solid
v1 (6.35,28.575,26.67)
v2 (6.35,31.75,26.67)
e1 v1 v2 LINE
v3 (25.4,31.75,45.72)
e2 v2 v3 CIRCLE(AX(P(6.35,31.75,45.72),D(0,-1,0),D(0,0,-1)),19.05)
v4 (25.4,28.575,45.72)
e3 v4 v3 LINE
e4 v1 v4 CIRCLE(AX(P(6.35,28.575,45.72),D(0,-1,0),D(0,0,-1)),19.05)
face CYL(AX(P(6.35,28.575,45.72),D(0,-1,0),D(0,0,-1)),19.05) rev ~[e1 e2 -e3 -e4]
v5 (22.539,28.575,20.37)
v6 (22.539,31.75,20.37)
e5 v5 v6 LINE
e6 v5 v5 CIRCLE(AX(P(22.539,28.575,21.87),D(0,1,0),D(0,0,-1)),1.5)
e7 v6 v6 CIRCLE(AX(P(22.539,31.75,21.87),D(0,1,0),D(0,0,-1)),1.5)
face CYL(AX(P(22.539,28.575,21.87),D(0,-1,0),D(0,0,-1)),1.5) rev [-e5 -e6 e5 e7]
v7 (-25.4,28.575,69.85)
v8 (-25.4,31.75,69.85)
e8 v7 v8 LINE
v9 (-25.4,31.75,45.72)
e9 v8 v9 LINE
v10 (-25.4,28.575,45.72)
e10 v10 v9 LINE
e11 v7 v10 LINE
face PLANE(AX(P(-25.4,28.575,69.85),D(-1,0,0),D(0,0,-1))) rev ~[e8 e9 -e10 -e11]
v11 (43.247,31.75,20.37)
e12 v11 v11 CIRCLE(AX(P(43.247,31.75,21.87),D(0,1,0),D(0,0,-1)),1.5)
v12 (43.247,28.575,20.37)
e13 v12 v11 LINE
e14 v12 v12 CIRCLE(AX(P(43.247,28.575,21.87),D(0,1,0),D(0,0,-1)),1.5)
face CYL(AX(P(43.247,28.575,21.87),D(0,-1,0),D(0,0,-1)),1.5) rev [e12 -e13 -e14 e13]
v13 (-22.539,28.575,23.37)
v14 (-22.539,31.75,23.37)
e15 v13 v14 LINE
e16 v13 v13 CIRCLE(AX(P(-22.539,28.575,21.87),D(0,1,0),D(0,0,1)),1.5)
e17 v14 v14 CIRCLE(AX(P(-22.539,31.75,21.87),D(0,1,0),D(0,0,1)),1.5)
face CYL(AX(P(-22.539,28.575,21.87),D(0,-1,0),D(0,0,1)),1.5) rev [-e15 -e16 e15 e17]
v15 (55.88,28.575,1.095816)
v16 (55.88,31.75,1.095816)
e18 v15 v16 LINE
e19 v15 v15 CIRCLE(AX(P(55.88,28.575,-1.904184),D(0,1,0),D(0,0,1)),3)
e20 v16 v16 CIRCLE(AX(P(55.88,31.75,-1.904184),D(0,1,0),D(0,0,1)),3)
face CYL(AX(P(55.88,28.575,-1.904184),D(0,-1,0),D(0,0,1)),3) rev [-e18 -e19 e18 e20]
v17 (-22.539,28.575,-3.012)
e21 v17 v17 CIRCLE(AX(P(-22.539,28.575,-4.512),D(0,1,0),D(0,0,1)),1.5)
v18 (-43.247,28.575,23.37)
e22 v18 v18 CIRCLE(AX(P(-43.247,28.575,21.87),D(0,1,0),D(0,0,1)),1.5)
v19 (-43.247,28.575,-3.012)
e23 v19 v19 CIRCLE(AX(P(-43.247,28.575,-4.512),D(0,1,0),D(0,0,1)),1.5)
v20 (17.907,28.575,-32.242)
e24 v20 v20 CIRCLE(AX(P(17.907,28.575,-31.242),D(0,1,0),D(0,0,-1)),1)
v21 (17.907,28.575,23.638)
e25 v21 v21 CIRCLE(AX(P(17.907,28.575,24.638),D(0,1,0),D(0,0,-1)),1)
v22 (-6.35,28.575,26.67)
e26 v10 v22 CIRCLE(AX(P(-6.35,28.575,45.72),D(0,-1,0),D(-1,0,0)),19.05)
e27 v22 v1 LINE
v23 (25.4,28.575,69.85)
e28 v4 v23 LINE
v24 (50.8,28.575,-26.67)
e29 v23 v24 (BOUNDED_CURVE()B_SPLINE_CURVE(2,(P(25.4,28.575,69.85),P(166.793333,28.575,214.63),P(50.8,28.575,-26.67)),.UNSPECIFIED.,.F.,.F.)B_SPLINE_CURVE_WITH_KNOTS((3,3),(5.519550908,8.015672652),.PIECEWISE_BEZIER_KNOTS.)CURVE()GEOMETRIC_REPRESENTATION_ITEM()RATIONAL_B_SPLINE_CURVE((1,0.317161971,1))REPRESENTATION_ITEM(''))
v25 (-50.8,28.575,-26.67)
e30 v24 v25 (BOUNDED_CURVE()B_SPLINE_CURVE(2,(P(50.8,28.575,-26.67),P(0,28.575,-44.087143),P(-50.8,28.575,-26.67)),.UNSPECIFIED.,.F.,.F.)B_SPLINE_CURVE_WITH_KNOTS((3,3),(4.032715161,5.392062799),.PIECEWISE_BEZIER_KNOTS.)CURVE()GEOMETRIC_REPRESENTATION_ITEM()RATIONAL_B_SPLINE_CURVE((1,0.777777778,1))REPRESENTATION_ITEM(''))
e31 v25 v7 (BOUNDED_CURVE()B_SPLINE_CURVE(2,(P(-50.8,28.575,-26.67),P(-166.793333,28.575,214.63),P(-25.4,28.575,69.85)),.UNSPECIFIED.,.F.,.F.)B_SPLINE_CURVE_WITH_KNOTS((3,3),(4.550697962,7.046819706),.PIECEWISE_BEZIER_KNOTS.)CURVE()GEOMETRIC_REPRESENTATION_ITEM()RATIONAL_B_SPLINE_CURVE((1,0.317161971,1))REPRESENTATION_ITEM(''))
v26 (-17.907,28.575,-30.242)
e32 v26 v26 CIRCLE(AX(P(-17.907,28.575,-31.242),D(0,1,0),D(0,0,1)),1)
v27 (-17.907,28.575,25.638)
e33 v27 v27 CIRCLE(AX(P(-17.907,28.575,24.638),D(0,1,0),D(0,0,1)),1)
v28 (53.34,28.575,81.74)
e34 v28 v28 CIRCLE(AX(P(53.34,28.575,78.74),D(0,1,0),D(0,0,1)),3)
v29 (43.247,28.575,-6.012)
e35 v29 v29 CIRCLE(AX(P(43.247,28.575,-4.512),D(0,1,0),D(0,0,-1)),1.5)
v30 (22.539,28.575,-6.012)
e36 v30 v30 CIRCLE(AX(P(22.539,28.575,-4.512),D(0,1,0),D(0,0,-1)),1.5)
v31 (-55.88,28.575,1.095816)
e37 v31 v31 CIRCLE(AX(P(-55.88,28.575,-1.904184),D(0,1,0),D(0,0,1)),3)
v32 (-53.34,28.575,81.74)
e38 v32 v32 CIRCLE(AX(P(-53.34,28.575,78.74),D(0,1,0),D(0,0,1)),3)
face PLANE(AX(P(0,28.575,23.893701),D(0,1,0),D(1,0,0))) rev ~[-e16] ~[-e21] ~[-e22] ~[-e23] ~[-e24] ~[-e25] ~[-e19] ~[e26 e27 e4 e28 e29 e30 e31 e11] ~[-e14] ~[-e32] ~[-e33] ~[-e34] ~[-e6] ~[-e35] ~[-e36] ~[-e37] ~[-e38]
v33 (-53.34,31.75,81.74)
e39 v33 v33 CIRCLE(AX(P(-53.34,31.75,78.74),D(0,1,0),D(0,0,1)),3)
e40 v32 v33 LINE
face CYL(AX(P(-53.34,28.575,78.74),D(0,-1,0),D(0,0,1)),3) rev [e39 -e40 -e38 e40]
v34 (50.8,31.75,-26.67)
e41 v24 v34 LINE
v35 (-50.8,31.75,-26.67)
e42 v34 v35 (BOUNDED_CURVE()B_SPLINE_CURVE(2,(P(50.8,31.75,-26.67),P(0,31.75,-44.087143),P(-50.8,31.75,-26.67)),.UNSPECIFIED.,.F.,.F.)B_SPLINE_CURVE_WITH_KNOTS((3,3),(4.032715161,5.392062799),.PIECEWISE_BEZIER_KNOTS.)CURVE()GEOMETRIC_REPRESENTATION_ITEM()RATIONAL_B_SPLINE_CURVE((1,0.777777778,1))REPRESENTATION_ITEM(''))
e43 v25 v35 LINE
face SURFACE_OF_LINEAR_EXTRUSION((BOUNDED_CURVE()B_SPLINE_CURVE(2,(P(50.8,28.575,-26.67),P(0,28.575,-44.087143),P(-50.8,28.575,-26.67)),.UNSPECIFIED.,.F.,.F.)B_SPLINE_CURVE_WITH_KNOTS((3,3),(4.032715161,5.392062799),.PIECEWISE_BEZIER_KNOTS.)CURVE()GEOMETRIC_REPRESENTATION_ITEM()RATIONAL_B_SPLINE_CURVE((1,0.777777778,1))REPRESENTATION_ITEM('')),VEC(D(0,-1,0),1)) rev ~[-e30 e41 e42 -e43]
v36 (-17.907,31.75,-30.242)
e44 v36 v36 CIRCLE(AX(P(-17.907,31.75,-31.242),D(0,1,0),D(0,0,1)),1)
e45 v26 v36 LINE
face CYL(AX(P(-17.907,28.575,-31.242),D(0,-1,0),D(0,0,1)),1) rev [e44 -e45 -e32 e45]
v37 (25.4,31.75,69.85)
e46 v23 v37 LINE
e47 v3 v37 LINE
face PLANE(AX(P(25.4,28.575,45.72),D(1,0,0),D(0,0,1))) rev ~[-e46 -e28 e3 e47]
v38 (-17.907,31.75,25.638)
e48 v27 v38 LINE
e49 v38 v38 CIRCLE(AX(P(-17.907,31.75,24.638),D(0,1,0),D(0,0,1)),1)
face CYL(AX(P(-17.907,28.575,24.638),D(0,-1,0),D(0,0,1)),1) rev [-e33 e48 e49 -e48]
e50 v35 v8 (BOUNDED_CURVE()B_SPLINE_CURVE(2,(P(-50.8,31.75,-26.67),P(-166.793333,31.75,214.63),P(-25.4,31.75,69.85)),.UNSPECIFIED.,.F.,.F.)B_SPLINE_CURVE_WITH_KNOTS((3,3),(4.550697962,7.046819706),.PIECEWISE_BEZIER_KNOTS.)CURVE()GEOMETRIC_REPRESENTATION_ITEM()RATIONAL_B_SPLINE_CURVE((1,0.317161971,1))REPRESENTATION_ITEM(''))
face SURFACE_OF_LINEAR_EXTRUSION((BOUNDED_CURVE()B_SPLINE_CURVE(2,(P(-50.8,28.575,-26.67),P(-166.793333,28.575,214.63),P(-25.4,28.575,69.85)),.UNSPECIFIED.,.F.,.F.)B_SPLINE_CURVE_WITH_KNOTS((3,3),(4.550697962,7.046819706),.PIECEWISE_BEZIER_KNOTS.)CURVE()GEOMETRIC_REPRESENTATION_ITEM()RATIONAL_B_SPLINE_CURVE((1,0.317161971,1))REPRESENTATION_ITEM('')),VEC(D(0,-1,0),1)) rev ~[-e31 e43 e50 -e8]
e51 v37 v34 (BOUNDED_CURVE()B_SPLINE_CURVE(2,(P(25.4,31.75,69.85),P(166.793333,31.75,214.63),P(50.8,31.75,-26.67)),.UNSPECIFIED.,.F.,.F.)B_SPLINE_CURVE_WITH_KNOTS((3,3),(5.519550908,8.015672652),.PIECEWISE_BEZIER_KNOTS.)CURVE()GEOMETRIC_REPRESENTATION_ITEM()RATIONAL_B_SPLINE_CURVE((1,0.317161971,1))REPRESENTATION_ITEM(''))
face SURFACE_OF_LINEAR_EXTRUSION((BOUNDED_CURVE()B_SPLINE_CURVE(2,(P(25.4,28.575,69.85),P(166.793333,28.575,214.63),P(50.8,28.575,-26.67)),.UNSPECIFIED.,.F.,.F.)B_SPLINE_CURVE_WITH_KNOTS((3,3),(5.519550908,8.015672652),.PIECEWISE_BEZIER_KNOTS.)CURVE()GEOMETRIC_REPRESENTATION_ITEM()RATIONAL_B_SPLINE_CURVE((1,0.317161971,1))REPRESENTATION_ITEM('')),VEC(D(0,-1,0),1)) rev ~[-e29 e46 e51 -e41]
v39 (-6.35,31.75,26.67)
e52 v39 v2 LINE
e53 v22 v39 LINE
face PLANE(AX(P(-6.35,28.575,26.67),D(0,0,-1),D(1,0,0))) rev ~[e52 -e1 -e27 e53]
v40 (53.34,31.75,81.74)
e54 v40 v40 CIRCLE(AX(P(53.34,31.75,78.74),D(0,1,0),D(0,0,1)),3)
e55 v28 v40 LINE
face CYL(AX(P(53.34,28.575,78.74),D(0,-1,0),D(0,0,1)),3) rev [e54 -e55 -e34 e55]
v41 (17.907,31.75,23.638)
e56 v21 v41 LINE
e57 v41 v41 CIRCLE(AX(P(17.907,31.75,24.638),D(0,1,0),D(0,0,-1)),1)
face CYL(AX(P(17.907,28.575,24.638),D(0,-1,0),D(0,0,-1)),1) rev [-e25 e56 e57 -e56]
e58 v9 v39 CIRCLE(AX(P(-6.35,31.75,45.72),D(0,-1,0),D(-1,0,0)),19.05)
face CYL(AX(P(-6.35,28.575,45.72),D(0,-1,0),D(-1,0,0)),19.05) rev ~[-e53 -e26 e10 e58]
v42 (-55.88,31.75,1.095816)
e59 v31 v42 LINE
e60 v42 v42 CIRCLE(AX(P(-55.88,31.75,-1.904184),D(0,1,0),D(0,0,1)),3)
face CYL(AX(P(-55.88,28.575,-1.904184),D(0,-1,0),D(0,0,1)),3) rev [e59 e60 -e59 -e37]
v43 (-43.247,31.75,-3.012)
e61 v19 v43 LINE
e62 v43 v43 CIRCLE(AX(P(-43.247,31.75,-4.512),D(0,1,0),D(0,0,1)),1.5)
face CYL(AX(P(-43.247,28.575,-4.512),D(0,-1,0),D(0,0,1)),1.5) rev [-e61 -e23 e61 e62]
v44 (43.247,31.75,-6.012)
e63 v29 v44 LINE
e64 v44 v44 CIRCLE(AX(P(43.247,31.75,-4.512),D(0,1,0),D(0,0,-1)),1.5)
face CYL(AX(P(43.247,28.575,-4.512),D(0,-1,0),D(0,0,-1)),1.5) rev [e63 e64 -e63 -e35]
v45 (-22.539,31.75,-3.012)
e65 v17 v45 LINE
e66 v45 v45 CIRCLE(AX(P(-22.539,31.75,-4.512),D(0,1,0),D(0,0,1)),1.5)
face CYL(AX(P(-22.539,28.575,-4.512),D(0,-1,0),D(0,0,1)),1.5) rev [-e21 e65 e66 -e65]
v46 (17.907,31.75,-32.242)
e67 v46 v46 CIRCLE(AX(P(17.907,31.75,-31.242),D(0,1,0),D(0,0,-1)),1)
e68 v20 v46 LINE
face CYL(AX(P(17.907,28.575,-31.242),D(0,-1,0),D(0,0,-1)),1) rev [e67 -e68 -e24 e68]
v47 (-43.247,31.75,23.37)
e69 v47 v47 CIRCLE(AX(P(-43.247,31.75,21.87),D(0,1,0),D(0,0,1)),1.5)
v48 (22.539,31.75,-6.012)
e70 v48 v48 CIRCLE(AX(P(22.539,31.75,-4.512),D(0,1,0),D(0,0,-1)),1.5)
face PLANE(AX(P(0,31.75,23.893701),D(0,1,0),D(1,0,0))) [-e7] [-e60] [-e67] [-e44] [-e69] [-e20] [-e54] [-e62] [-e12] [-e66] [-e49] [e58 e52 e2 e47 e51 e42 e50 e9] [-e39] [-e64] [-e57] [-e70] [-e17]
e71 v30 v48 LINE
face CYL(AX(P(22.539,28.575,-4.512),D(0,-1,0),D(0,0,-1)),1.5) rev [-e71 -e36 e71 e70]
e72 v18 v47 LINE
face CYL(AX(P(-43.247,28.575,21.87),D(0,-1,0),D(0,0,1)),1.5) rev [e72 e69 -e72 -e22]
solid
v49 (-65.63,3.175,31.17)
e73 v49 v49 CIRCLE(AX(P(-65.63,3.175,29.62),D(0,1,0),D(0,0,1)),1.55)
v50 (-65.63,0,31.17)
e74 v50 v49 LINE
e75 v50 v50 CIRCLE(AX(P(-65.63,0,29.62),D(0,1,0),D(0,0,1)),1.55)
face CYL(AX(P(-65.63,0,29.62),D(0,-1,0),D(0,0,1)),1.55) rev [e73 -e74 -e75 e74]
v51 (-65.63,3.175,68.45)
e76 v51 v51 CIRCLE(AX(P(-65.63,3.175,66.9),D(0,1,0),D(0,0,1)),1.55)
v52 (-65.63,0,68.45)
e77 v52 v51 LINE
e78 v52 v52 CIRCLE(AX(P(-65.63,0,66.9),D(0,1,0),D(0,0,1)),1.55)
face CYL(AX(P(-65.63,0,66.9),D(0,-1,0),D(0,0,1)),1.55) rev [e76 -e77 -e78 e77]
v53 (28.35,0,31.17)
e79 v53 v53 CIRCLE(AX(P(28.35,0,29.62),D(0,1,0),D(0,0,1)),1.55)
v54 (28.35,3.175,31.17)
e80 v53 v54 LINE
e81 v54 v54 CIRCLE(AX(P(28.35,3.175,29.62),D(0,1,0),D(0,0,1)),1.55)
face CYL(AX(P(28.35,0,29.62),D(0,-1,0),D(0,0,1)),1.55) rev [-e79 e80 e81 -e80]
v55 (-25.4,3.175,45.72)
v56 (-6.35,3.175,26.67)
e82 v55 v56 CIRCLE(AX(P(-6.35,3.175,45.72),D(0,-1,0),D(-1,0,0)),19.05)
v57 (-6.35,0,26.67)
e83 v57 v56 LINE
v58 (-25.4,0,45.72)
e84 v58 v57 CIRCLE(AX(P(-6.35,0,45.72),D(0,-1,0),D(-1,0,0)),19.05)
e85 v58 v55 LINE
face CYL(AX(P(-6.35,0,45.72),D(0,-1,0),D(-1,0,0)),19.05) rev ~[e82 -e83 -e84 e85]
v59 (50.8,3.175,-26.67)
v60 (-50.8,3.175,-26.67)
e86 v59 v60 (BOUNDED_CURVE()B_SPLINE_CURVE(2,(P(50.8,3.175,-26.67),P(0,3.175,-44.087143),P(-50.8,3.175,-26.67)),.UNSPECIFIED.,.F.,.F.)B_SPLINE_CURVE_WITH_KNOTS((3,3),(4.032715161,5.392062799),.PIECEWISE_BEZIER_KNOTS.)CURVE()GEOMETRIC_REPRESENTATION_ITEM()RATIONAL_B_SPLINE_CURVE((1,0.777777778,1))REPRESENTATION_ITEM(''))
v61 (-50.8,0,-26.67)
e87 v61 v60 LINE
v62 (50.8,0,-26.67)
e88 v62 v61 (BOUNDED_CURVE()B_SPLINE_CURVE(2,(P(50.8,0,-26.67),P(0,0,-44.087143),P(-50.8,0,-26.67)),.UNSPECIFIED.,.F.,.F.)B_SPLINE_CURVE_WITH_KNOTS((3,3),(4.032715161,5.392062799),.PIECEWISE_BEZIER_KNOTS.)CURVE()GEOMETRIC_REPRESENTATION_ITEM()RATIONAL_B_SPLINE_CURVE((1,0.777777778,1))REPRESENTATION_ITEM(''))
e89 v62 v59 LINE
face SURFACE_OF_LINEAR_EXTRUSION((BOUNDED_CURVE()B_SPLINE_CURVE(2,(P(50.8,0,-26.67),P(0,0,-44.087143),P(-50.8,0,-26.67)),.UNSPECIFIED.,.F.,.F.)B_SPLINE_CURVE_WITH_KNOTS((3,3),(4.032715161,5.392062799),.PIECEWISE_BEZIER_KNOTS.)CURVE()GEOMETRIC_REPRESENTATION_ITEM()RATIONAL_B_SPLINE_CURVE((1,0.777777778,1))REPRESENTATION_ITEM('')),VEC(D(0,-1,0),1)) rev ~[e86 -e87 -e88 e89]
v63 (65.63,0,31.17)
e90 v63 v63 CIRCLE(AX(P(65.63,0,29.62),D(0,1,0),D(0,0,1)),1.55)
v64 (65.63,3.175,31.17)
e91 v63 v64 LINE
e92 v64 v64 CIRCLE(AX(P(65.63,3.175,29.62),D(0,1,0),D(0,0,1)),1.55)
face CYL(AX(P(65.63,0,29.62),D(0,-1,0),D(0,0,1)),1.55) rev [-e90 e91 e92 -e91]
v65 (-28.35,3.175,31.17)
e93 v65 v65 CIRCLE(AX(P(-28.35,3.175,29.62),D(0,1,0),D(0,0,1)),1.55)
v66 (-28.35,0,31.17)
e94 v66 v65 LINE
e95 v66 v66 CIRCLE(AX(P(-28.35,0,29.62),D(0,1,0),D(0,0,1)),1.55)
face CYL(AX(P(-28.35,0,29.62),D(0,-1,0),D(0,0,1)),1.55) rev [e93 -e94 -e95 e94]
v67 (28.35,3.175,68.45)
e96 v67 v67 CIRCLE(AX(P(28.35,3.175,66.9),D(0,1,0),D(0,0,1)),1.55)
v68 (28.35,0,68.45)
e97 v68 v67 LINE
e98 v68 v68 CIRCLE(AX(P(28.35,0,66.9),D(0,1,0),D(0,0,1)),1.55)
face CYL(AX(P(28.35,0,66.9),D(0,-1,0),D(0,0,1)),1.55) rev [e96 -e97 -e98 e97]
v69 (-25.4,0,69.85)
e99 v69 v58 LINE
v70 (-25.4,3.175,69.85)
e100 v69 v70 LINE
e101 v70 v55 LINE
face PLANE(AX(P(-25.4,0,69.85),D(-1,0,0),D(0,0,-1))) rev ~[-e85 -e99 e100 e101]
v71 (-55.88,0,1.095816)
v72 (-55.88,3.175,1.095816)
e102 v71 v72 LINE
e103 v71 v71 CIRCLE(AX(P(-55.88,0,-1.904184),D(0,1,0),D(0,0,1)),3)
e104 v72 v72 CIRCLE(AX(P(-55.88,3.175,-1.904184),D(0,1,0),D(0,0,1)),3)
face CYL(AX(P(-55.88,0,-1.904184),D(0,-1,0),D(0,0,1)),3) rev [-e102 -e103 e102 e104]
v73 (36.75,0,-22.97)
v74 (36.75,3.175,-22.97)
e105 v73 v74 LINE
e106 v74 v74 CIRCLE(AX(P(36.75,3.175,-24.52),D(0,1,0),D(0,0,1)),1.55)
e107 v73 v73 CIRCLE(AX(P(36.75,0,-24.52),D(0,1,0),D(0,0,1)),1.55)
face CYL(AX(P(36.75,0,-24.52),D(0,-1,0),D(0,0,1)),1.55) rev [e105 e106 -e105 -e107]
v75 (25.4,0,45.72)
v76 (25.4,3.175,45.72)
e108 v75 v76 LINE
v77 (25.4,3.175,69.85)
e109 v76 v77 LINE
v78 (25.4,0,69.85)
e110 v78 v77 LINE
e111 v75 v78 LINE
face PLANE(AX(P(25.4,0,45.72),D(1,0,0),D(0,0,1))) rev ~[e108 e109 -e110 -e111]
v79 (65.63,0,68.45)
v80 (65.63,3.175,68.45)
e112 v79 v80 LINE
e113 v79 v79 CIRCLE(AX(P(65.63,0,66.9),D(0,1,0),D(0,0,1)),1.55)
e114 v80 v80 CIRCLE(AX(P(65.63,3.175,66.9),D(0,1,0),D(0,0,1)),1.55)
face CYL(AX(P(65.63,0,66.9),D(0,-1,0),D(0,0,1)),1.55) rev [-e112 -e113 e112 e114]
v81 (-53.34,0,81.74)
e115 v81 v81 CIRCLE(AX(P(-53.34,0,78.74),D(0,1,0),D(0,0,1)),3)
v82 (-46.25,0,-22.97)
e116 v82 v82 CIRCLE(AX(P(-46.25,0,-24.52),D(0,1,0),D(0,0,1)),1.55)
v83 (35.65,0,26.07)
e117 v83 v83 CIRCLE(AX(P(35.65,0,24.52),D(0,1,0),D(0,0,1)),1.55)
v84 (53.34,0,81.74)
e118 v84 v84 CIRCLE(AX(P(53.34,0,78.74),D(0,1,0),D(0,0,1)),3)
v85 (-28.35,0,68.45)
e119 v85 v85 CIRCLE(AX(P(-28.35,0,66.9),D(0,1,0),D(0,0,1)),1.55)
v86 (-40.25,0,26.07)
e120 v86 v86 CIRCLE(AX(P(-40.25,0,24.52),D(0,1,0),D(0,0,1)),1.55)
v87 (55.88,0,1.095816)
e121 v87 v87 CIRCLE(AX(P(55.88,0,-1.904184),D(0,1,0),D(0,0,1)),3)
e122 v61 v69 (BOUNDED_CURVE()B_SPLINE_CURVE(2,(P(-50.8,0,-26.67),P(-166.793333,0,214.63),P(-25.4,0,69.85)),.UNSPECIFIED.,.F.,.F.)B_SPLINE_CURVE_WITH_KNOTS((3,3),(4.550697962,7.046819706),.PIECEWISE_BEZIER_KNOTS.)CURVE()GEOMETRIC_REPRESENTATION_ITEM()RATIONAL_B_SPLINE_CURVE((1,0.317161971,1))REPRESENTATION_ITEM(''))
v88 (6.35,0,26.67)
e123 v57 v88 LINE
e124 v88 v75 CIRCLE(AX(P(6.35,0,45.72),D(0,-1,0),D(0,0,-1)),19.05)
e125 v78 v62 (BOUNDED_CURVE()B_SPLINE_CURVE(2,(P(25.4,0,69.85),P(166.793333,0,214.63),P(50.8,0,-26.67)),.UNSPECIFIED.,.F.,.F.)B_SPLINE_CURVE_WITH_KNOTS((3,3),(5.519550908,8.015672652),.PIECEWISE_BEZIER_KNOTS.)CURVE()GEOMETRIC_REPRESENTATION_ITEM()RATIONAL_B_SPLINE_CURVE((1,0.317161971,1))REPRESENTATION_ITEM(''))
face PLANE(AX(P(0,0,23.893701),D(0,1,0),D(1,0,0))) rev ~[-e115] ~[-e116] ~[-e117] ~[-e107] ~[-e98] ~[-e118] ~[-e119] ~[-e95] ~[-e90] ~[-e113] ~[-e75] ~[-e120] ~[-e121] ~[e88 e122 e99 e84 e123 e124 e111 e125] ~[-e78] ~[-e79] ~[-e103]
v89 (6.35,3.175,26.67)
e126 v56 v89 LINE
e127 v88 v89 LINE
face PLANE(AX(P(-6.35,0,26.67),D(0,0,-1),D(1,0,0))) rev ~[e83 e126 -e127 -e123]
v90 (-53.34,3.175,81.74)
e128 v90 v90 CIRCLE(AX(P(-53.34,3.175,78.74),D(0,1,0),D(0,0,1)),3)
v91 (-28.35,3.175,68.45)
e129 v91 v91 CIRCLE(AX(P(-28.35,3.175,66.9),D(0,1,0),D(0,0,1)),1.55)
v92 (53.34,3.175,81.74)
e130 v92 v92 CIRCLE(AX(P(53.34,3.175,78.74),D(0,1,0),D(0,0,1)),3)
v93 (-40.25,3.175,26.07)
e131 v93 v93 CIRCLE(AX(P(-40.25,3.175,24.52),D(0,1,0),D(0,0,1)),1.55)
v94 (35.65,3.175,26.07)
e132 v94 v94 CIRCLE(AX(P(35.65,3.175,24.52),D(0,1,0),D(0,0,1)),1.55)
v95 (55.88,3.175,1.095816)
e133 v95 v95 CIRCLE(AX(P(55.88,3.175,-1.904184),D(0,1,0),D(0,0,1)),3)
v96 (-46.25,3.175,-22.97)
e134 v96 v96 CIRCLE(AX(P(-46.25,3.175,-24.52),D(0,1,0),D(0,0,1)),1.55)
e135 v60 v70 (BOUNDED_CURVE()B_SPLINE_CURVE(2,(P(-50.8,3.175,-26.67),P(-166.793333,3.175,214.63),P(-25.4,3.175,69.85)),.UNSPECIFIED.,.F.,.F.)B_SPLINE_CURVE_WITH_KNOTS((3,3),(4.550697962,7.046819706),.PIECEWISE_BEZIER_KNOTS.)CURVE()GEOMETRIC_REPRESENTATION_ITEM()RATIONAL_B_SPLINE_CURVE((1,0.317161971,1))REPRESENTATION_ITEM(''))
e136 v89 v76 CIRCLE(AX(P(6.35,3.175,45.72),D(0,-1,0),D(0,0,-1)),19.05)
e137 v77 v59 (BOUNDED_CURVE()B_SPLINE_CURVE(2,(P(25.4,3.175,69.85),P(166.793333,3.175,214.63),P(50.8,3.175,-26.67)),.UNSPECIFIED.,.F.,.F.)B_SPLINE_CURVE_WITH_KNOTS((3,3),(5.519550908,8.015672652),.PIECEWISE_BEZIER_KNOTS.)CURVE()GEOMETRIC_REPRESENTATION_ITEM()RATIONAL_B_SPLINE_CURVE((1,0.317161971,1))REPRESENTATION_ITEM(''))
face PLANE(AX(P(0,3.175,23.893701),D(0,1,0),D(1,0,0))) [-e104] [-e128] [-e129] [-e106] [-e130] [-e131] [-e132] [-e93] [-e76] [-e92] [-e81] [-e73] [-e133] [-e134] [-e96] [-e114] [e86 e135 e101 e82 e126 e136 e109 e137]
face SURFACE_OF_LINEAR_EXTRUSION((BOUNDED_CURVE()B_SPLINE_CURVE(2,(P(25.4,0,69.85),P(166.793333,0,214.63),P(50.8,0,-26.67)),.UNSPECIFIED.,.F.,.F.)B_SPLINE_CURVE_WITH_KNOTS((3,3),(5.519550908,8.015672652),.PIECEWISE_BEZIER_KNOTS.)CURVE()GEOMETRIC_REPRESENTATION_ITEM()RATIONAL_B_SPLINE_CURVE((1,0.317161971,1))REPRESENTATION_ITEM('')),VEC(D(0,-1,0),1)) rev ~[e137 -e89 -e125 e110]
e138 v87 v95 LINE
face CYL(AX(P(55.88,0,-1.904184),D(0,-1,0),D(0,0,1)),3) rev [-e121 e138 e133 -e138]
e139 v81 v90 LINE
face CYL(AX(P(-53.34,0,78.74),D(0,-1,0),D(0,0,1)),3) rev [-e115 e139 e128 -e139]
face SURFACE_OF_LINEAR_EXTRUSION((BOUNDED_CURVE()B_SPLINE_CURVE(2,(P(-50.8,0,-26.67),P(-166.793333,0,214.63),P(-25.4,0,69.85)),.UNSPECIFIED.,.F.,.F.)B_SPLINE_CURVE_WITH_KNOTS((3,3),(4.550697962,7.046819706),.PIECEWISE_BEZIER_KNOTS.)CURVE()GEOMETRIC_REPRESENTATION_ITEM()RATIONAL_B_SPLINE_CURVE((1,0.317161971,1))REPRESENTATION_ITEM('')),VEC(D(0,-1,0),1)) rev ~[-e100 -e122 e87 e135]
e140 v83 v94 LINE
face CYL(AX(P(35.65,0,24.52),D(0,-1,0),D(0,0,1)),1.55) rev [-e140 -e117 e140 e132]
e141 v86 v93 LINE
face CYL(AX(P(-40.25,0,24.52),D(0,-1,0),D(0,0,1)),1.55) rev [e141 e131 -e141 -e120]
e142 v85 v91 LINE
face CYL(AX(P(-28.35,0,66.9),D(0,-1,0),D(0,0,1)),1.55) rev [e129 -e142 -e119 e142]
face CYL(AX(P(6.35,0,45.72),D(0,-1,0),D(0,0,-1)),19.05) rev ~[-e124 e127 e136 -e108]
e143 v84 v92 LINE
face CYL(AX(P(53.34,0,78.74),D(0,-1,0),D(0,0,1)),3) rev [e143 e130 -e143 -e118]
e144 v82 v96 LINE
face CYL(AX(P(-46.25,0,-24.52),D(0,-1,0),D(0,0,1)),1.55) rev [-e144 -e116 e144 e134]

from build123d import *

# Parameters (mm, degrees)
SKETCH1_R           = 1.55
SKETCH1_R_2         = 3
BOSS_EXTRUDE1_DEPTH = 3.175
BOSS_EXTRUDE2_START = 25.4
SKETCH2_R           = 1
SKETCH2_R_2         = 1.5
SKETCH2_R_3         = 3
BOSS_EXTRUDE2_DEPTH = 3.175


with BuildPart() as part:
    # Sketch1 → Boss-Extrude1 (new body)
    with BuildSketch(Plane(origin=(0, 0, 0), x_dir=(1, 0, 0), z_dir=(0, 1, 0))):
        with BuildLine():
            Line((-25.4, -69.85), (-25.4, -45.72))
            ThreePointArc((-25.4, -45.72), (-19.820384182, -32.249615818), (-6.35, -26.67))
            Line((-6.35, -26.67), (6.35, -26.67))
            ThreePointArc((6.35, -26.67), (19.820384182, -32.249615818), (25.4, -45.72))
            Line((25.4, -45.72), (25.4, -69.85))
            add(Edge.make_bspline(
                [(25.4, -69.85), (166.793333333, -214.63), (50.8, 26.67)],
                knots=[5.519550908, 5.519550908, 5.519550908, 8.015672652, 8.015672652, 8.015672652], degree=2, weights=[1, 0.317161971, 1]))
            add(Edge.make_bspline(
                [(50.8, 26.67), (0, 44.087142857), (-50.8, 26.67)],
                knots=[4.032715161, 4.032715161, 4.032715161, 5.392062799, 5.392062799, 5.392062799], degree=2, weights=[1, 0.777777778, 1]))
            add(Edge.make_bspline(
                [(-50.8, 26.67), (-166.793333333, -214.63), (-25.4, -69.85)],
                knots=[4.550697962, 4.550697962, 4.550697962, 7.046819706, 7.046819706, 7.046819706], degree=2, weights=[1, 0.317161971, 1]))
        make_face()
        with Locations(Location((-65.63, -66.9, 0), (0, 0, 270))):
            Circle(SKETCH1_R, mode=Mode.SUBTRACT)
        with Locations(Location((-65.63, -29.62, 0), (0, 0, 270))):
            Circle(SKETCH1_R, mode=Mode.SUBTRACT)
        with Locations(Location((-28.35, -66.9, 0), (0, 0, 270))):
            Circle(SKETCH1_R, mode=Mode.SUBTRACT)
        with Locations(Location((-28.35, -29.62, 0), (0, 0, 270))):
            Circle(SKETCH1_R, mode=Mode.SUBTRACT)
        with Locations(Location((36.749999906, 24.519999982, 0), (0, 0, 270))):
            Circle(SKETCH1_R, mode=Mode.SUBTRACT)
        with Locations(Location((35.65, -24.519999982, 0), (0, 0, 270))):
            Circle(SKETCH1_R, mode=Mode.SUBTRACT)
        with Locations(Location((-46.249999956, 24.519999982, 0), (0, 0, 270))):
            Circle(SKETCH1_R, mode=Mode.SUBTRACT)
        with Locations(Location((-40.250000018, -24.519999982, 0), (0, 0, 270))):
            Circle(SKETCH1_R, mode=Mode.SUBTRACT)
        with Locations(Location((28.35, -66.9, 0), (0, 0, 270))):
            Circle(SKETCH1_R, mode=Mode.SUBTRACT)
        with Locations(Location((65.63, -66.9, 0), (0, 0, 270))):
            Circle(SKETCH1_R, mode=Mode.SUBTRACT)
        with Locations(Location((65.63, -29.62, 0), (0, 0, 270))):
            Circle(SKETCH1_R, mode=Mode.SUBTRACT)
        with Locations(Location((28.35, -29.62, 0), (0, 0, 270))):
            Circle(SKETCH1_R, mode=Mode.SUBTRACT)
        with Locations(Location((-55.88, 1.904184263, 0), (0, 0, 270))):
            Circle(SKETCH1_R_2, mode=Mode.SUBTRACT)
        with Locations(Location((-53.34, -78.74, 0), (0, 0, 270))):
            Circle(SKETCH1_R_2, mode=Mode.SUBTRACT)
        with Locations(Location((53.34, -78.74, 0), (0, 0, 270))):
            Circle(SKETCH1_R_2, mode=Mode.SUBTRACT)
        with Locations(Location((55.88, 1.904184263, 0), (0, 0, 270))):
            Circle(SKETCH1_R_2, mode=Mode.SUBTRACT)
    extrude(amount=BOSS_EXTRUDE1_DEPTH)


with BuildPart() as body_2:
    # Sketch2 → Boss-Extrude2 (new body)
    with BuildSketch(Plane(origin=(0, 3.175, 0), x_dir=(1, 0, 0), z_dir=(0, 1, 0)).offset(BOSS_EXTRUDE2_START)):
        with BuildLine():
            Line((25.4, -45.72), (25.4, -69.85))
            add(Edge.make_bspline(
                [(25.4, -69.85), (166.793333333, -214.63), (50.8, 26.67)],
                knots=[5.519550908, 5.519550908, 5.519550908, 8.015672652, 8.015672652, 8.015672652], degree=2, weights=[1, 0.317161971, 1]))
            add(Edge.make_bspline(
                [(50.8, 26.67), (0, 44.087142857), (-50.8, 26.67)],
                knots=[4.032715161, 4.032715161, 4.032715161, 5.392062799, 5.392062799, 5.392062799], degree=2, weights=[1, 0.777777778, 1]))
            add(Edge.make_bspline(
                [(-50.8, 26.67), (-166.793333333, -214.63), (-25.4, -69.85)],
                knots=[4.550697962, 4.550697962, 4.550697962, 7.046819706, 7.046819706, 7.046819706], degree=2, weights=[1, 0.317161971, 1]))
            Line((-25.4, -69.85), (-25.4, -45.72))
            ThreePointArc((-25.4, -45.72), (-19.820384182, -32.249615818), (-6.35, -26.67))
            Line((-6.35, -26.67), (6.35, -26.67))
            ThreePointArc((6.35, -26.67), (19.820384182, -32.249615818), (25.4, -45.72))
        make_face()
        with Locations(Location((-17.907, 31.242, 0), (0, 0, 270))):
            Circle(SKETCH2_R, mode=Mode.SUBTRACT)
        with Locations(Location((-17.907, -24.638, 0), (0, 0, 270))):
            Circle(SKETCH2_R, mode=Mode.SUBTRACT)
        with Locations(Location((17.907, 31.242, 0), (0, 0, 90))):
            Circle(SKETCH2_R, mode=Mode.SUBTRACT)
        with Locations(Location((17.907, -24.638, 0), (0, 0, 90))):
            Circle(SKETCH2_R, mode=Mode.SUBTRACT)
        with Locations(Location((-43.247, 4.512, 0), (0, 0, 270))):
            Circle(SKETCH2_R_2, mode=Mode.SUBTRACT)
        with Locations(Location((-22.539, 4.512, 0), (0, 0, 270))):
            Circle(SKETCH2_R_2, mode=Mode.SUBTRACT)
        with Locations(Location((-43.247, -21.87, 0), (0, 0, 270))):
            Circle(SKETCH2_R_2, mode=Mode.SUBTRACT)
        with Locations(Location((-22.539, -21.87, 0), (0, 0, 270))):
            Circle(SKETCH2_R_2, mode=Mode.SUBTRACT)
        with Locations(Location((43.247, -21.87, 0), (0, 0, 90))):
            Circle(SKETCH2_R_2, mode=Mode.SUBTRACT)
        with Locations(Location((22.539, -21.87, 0), (0, 0, 90))):
            Circle(SKETCH2_R_2, mode=Mode.SUBTRACT)
        with Locations(Location((22.539, 4.512, 0), (0, 0, 90))):
            Circle(SKETCH2_R_2, mode=Mode.SUBTRACT)
        with Locations(Location((43.247, 4.512, 0), (0, 0, 90))):
            Circle(SKETCH2_R_2, mode=Mode.SUBTRACT)
        with Locations(Location((-53.34, -78.74, 0), (0, 0, 270))):
            Circle(SKETCH2_R_3, mode=Mode.SUBTRACT)
        with Locations(Location((53.34, -78.74, 0), (0, 0, 270))):
            Circle(SKETCH2_R_3, mode=Mode.SUBTRACT)
        with Locations(Location((55.88, 1.904184263, 0), (0, 0, 270))):
            Circle(SKETCH2_R_3, mode=Mode.SUBTRACT)
        with Locations(Location((-55.88, 1.904184263, 0), (0, 0, 270))):
            Circle(SKETCH2_R_3, mode=Mode.SUBTRACT)
    extrude(amount=BOSS_EXTRUDE2_DEPTH)


solid = Compound([part.part, body_2.part])
